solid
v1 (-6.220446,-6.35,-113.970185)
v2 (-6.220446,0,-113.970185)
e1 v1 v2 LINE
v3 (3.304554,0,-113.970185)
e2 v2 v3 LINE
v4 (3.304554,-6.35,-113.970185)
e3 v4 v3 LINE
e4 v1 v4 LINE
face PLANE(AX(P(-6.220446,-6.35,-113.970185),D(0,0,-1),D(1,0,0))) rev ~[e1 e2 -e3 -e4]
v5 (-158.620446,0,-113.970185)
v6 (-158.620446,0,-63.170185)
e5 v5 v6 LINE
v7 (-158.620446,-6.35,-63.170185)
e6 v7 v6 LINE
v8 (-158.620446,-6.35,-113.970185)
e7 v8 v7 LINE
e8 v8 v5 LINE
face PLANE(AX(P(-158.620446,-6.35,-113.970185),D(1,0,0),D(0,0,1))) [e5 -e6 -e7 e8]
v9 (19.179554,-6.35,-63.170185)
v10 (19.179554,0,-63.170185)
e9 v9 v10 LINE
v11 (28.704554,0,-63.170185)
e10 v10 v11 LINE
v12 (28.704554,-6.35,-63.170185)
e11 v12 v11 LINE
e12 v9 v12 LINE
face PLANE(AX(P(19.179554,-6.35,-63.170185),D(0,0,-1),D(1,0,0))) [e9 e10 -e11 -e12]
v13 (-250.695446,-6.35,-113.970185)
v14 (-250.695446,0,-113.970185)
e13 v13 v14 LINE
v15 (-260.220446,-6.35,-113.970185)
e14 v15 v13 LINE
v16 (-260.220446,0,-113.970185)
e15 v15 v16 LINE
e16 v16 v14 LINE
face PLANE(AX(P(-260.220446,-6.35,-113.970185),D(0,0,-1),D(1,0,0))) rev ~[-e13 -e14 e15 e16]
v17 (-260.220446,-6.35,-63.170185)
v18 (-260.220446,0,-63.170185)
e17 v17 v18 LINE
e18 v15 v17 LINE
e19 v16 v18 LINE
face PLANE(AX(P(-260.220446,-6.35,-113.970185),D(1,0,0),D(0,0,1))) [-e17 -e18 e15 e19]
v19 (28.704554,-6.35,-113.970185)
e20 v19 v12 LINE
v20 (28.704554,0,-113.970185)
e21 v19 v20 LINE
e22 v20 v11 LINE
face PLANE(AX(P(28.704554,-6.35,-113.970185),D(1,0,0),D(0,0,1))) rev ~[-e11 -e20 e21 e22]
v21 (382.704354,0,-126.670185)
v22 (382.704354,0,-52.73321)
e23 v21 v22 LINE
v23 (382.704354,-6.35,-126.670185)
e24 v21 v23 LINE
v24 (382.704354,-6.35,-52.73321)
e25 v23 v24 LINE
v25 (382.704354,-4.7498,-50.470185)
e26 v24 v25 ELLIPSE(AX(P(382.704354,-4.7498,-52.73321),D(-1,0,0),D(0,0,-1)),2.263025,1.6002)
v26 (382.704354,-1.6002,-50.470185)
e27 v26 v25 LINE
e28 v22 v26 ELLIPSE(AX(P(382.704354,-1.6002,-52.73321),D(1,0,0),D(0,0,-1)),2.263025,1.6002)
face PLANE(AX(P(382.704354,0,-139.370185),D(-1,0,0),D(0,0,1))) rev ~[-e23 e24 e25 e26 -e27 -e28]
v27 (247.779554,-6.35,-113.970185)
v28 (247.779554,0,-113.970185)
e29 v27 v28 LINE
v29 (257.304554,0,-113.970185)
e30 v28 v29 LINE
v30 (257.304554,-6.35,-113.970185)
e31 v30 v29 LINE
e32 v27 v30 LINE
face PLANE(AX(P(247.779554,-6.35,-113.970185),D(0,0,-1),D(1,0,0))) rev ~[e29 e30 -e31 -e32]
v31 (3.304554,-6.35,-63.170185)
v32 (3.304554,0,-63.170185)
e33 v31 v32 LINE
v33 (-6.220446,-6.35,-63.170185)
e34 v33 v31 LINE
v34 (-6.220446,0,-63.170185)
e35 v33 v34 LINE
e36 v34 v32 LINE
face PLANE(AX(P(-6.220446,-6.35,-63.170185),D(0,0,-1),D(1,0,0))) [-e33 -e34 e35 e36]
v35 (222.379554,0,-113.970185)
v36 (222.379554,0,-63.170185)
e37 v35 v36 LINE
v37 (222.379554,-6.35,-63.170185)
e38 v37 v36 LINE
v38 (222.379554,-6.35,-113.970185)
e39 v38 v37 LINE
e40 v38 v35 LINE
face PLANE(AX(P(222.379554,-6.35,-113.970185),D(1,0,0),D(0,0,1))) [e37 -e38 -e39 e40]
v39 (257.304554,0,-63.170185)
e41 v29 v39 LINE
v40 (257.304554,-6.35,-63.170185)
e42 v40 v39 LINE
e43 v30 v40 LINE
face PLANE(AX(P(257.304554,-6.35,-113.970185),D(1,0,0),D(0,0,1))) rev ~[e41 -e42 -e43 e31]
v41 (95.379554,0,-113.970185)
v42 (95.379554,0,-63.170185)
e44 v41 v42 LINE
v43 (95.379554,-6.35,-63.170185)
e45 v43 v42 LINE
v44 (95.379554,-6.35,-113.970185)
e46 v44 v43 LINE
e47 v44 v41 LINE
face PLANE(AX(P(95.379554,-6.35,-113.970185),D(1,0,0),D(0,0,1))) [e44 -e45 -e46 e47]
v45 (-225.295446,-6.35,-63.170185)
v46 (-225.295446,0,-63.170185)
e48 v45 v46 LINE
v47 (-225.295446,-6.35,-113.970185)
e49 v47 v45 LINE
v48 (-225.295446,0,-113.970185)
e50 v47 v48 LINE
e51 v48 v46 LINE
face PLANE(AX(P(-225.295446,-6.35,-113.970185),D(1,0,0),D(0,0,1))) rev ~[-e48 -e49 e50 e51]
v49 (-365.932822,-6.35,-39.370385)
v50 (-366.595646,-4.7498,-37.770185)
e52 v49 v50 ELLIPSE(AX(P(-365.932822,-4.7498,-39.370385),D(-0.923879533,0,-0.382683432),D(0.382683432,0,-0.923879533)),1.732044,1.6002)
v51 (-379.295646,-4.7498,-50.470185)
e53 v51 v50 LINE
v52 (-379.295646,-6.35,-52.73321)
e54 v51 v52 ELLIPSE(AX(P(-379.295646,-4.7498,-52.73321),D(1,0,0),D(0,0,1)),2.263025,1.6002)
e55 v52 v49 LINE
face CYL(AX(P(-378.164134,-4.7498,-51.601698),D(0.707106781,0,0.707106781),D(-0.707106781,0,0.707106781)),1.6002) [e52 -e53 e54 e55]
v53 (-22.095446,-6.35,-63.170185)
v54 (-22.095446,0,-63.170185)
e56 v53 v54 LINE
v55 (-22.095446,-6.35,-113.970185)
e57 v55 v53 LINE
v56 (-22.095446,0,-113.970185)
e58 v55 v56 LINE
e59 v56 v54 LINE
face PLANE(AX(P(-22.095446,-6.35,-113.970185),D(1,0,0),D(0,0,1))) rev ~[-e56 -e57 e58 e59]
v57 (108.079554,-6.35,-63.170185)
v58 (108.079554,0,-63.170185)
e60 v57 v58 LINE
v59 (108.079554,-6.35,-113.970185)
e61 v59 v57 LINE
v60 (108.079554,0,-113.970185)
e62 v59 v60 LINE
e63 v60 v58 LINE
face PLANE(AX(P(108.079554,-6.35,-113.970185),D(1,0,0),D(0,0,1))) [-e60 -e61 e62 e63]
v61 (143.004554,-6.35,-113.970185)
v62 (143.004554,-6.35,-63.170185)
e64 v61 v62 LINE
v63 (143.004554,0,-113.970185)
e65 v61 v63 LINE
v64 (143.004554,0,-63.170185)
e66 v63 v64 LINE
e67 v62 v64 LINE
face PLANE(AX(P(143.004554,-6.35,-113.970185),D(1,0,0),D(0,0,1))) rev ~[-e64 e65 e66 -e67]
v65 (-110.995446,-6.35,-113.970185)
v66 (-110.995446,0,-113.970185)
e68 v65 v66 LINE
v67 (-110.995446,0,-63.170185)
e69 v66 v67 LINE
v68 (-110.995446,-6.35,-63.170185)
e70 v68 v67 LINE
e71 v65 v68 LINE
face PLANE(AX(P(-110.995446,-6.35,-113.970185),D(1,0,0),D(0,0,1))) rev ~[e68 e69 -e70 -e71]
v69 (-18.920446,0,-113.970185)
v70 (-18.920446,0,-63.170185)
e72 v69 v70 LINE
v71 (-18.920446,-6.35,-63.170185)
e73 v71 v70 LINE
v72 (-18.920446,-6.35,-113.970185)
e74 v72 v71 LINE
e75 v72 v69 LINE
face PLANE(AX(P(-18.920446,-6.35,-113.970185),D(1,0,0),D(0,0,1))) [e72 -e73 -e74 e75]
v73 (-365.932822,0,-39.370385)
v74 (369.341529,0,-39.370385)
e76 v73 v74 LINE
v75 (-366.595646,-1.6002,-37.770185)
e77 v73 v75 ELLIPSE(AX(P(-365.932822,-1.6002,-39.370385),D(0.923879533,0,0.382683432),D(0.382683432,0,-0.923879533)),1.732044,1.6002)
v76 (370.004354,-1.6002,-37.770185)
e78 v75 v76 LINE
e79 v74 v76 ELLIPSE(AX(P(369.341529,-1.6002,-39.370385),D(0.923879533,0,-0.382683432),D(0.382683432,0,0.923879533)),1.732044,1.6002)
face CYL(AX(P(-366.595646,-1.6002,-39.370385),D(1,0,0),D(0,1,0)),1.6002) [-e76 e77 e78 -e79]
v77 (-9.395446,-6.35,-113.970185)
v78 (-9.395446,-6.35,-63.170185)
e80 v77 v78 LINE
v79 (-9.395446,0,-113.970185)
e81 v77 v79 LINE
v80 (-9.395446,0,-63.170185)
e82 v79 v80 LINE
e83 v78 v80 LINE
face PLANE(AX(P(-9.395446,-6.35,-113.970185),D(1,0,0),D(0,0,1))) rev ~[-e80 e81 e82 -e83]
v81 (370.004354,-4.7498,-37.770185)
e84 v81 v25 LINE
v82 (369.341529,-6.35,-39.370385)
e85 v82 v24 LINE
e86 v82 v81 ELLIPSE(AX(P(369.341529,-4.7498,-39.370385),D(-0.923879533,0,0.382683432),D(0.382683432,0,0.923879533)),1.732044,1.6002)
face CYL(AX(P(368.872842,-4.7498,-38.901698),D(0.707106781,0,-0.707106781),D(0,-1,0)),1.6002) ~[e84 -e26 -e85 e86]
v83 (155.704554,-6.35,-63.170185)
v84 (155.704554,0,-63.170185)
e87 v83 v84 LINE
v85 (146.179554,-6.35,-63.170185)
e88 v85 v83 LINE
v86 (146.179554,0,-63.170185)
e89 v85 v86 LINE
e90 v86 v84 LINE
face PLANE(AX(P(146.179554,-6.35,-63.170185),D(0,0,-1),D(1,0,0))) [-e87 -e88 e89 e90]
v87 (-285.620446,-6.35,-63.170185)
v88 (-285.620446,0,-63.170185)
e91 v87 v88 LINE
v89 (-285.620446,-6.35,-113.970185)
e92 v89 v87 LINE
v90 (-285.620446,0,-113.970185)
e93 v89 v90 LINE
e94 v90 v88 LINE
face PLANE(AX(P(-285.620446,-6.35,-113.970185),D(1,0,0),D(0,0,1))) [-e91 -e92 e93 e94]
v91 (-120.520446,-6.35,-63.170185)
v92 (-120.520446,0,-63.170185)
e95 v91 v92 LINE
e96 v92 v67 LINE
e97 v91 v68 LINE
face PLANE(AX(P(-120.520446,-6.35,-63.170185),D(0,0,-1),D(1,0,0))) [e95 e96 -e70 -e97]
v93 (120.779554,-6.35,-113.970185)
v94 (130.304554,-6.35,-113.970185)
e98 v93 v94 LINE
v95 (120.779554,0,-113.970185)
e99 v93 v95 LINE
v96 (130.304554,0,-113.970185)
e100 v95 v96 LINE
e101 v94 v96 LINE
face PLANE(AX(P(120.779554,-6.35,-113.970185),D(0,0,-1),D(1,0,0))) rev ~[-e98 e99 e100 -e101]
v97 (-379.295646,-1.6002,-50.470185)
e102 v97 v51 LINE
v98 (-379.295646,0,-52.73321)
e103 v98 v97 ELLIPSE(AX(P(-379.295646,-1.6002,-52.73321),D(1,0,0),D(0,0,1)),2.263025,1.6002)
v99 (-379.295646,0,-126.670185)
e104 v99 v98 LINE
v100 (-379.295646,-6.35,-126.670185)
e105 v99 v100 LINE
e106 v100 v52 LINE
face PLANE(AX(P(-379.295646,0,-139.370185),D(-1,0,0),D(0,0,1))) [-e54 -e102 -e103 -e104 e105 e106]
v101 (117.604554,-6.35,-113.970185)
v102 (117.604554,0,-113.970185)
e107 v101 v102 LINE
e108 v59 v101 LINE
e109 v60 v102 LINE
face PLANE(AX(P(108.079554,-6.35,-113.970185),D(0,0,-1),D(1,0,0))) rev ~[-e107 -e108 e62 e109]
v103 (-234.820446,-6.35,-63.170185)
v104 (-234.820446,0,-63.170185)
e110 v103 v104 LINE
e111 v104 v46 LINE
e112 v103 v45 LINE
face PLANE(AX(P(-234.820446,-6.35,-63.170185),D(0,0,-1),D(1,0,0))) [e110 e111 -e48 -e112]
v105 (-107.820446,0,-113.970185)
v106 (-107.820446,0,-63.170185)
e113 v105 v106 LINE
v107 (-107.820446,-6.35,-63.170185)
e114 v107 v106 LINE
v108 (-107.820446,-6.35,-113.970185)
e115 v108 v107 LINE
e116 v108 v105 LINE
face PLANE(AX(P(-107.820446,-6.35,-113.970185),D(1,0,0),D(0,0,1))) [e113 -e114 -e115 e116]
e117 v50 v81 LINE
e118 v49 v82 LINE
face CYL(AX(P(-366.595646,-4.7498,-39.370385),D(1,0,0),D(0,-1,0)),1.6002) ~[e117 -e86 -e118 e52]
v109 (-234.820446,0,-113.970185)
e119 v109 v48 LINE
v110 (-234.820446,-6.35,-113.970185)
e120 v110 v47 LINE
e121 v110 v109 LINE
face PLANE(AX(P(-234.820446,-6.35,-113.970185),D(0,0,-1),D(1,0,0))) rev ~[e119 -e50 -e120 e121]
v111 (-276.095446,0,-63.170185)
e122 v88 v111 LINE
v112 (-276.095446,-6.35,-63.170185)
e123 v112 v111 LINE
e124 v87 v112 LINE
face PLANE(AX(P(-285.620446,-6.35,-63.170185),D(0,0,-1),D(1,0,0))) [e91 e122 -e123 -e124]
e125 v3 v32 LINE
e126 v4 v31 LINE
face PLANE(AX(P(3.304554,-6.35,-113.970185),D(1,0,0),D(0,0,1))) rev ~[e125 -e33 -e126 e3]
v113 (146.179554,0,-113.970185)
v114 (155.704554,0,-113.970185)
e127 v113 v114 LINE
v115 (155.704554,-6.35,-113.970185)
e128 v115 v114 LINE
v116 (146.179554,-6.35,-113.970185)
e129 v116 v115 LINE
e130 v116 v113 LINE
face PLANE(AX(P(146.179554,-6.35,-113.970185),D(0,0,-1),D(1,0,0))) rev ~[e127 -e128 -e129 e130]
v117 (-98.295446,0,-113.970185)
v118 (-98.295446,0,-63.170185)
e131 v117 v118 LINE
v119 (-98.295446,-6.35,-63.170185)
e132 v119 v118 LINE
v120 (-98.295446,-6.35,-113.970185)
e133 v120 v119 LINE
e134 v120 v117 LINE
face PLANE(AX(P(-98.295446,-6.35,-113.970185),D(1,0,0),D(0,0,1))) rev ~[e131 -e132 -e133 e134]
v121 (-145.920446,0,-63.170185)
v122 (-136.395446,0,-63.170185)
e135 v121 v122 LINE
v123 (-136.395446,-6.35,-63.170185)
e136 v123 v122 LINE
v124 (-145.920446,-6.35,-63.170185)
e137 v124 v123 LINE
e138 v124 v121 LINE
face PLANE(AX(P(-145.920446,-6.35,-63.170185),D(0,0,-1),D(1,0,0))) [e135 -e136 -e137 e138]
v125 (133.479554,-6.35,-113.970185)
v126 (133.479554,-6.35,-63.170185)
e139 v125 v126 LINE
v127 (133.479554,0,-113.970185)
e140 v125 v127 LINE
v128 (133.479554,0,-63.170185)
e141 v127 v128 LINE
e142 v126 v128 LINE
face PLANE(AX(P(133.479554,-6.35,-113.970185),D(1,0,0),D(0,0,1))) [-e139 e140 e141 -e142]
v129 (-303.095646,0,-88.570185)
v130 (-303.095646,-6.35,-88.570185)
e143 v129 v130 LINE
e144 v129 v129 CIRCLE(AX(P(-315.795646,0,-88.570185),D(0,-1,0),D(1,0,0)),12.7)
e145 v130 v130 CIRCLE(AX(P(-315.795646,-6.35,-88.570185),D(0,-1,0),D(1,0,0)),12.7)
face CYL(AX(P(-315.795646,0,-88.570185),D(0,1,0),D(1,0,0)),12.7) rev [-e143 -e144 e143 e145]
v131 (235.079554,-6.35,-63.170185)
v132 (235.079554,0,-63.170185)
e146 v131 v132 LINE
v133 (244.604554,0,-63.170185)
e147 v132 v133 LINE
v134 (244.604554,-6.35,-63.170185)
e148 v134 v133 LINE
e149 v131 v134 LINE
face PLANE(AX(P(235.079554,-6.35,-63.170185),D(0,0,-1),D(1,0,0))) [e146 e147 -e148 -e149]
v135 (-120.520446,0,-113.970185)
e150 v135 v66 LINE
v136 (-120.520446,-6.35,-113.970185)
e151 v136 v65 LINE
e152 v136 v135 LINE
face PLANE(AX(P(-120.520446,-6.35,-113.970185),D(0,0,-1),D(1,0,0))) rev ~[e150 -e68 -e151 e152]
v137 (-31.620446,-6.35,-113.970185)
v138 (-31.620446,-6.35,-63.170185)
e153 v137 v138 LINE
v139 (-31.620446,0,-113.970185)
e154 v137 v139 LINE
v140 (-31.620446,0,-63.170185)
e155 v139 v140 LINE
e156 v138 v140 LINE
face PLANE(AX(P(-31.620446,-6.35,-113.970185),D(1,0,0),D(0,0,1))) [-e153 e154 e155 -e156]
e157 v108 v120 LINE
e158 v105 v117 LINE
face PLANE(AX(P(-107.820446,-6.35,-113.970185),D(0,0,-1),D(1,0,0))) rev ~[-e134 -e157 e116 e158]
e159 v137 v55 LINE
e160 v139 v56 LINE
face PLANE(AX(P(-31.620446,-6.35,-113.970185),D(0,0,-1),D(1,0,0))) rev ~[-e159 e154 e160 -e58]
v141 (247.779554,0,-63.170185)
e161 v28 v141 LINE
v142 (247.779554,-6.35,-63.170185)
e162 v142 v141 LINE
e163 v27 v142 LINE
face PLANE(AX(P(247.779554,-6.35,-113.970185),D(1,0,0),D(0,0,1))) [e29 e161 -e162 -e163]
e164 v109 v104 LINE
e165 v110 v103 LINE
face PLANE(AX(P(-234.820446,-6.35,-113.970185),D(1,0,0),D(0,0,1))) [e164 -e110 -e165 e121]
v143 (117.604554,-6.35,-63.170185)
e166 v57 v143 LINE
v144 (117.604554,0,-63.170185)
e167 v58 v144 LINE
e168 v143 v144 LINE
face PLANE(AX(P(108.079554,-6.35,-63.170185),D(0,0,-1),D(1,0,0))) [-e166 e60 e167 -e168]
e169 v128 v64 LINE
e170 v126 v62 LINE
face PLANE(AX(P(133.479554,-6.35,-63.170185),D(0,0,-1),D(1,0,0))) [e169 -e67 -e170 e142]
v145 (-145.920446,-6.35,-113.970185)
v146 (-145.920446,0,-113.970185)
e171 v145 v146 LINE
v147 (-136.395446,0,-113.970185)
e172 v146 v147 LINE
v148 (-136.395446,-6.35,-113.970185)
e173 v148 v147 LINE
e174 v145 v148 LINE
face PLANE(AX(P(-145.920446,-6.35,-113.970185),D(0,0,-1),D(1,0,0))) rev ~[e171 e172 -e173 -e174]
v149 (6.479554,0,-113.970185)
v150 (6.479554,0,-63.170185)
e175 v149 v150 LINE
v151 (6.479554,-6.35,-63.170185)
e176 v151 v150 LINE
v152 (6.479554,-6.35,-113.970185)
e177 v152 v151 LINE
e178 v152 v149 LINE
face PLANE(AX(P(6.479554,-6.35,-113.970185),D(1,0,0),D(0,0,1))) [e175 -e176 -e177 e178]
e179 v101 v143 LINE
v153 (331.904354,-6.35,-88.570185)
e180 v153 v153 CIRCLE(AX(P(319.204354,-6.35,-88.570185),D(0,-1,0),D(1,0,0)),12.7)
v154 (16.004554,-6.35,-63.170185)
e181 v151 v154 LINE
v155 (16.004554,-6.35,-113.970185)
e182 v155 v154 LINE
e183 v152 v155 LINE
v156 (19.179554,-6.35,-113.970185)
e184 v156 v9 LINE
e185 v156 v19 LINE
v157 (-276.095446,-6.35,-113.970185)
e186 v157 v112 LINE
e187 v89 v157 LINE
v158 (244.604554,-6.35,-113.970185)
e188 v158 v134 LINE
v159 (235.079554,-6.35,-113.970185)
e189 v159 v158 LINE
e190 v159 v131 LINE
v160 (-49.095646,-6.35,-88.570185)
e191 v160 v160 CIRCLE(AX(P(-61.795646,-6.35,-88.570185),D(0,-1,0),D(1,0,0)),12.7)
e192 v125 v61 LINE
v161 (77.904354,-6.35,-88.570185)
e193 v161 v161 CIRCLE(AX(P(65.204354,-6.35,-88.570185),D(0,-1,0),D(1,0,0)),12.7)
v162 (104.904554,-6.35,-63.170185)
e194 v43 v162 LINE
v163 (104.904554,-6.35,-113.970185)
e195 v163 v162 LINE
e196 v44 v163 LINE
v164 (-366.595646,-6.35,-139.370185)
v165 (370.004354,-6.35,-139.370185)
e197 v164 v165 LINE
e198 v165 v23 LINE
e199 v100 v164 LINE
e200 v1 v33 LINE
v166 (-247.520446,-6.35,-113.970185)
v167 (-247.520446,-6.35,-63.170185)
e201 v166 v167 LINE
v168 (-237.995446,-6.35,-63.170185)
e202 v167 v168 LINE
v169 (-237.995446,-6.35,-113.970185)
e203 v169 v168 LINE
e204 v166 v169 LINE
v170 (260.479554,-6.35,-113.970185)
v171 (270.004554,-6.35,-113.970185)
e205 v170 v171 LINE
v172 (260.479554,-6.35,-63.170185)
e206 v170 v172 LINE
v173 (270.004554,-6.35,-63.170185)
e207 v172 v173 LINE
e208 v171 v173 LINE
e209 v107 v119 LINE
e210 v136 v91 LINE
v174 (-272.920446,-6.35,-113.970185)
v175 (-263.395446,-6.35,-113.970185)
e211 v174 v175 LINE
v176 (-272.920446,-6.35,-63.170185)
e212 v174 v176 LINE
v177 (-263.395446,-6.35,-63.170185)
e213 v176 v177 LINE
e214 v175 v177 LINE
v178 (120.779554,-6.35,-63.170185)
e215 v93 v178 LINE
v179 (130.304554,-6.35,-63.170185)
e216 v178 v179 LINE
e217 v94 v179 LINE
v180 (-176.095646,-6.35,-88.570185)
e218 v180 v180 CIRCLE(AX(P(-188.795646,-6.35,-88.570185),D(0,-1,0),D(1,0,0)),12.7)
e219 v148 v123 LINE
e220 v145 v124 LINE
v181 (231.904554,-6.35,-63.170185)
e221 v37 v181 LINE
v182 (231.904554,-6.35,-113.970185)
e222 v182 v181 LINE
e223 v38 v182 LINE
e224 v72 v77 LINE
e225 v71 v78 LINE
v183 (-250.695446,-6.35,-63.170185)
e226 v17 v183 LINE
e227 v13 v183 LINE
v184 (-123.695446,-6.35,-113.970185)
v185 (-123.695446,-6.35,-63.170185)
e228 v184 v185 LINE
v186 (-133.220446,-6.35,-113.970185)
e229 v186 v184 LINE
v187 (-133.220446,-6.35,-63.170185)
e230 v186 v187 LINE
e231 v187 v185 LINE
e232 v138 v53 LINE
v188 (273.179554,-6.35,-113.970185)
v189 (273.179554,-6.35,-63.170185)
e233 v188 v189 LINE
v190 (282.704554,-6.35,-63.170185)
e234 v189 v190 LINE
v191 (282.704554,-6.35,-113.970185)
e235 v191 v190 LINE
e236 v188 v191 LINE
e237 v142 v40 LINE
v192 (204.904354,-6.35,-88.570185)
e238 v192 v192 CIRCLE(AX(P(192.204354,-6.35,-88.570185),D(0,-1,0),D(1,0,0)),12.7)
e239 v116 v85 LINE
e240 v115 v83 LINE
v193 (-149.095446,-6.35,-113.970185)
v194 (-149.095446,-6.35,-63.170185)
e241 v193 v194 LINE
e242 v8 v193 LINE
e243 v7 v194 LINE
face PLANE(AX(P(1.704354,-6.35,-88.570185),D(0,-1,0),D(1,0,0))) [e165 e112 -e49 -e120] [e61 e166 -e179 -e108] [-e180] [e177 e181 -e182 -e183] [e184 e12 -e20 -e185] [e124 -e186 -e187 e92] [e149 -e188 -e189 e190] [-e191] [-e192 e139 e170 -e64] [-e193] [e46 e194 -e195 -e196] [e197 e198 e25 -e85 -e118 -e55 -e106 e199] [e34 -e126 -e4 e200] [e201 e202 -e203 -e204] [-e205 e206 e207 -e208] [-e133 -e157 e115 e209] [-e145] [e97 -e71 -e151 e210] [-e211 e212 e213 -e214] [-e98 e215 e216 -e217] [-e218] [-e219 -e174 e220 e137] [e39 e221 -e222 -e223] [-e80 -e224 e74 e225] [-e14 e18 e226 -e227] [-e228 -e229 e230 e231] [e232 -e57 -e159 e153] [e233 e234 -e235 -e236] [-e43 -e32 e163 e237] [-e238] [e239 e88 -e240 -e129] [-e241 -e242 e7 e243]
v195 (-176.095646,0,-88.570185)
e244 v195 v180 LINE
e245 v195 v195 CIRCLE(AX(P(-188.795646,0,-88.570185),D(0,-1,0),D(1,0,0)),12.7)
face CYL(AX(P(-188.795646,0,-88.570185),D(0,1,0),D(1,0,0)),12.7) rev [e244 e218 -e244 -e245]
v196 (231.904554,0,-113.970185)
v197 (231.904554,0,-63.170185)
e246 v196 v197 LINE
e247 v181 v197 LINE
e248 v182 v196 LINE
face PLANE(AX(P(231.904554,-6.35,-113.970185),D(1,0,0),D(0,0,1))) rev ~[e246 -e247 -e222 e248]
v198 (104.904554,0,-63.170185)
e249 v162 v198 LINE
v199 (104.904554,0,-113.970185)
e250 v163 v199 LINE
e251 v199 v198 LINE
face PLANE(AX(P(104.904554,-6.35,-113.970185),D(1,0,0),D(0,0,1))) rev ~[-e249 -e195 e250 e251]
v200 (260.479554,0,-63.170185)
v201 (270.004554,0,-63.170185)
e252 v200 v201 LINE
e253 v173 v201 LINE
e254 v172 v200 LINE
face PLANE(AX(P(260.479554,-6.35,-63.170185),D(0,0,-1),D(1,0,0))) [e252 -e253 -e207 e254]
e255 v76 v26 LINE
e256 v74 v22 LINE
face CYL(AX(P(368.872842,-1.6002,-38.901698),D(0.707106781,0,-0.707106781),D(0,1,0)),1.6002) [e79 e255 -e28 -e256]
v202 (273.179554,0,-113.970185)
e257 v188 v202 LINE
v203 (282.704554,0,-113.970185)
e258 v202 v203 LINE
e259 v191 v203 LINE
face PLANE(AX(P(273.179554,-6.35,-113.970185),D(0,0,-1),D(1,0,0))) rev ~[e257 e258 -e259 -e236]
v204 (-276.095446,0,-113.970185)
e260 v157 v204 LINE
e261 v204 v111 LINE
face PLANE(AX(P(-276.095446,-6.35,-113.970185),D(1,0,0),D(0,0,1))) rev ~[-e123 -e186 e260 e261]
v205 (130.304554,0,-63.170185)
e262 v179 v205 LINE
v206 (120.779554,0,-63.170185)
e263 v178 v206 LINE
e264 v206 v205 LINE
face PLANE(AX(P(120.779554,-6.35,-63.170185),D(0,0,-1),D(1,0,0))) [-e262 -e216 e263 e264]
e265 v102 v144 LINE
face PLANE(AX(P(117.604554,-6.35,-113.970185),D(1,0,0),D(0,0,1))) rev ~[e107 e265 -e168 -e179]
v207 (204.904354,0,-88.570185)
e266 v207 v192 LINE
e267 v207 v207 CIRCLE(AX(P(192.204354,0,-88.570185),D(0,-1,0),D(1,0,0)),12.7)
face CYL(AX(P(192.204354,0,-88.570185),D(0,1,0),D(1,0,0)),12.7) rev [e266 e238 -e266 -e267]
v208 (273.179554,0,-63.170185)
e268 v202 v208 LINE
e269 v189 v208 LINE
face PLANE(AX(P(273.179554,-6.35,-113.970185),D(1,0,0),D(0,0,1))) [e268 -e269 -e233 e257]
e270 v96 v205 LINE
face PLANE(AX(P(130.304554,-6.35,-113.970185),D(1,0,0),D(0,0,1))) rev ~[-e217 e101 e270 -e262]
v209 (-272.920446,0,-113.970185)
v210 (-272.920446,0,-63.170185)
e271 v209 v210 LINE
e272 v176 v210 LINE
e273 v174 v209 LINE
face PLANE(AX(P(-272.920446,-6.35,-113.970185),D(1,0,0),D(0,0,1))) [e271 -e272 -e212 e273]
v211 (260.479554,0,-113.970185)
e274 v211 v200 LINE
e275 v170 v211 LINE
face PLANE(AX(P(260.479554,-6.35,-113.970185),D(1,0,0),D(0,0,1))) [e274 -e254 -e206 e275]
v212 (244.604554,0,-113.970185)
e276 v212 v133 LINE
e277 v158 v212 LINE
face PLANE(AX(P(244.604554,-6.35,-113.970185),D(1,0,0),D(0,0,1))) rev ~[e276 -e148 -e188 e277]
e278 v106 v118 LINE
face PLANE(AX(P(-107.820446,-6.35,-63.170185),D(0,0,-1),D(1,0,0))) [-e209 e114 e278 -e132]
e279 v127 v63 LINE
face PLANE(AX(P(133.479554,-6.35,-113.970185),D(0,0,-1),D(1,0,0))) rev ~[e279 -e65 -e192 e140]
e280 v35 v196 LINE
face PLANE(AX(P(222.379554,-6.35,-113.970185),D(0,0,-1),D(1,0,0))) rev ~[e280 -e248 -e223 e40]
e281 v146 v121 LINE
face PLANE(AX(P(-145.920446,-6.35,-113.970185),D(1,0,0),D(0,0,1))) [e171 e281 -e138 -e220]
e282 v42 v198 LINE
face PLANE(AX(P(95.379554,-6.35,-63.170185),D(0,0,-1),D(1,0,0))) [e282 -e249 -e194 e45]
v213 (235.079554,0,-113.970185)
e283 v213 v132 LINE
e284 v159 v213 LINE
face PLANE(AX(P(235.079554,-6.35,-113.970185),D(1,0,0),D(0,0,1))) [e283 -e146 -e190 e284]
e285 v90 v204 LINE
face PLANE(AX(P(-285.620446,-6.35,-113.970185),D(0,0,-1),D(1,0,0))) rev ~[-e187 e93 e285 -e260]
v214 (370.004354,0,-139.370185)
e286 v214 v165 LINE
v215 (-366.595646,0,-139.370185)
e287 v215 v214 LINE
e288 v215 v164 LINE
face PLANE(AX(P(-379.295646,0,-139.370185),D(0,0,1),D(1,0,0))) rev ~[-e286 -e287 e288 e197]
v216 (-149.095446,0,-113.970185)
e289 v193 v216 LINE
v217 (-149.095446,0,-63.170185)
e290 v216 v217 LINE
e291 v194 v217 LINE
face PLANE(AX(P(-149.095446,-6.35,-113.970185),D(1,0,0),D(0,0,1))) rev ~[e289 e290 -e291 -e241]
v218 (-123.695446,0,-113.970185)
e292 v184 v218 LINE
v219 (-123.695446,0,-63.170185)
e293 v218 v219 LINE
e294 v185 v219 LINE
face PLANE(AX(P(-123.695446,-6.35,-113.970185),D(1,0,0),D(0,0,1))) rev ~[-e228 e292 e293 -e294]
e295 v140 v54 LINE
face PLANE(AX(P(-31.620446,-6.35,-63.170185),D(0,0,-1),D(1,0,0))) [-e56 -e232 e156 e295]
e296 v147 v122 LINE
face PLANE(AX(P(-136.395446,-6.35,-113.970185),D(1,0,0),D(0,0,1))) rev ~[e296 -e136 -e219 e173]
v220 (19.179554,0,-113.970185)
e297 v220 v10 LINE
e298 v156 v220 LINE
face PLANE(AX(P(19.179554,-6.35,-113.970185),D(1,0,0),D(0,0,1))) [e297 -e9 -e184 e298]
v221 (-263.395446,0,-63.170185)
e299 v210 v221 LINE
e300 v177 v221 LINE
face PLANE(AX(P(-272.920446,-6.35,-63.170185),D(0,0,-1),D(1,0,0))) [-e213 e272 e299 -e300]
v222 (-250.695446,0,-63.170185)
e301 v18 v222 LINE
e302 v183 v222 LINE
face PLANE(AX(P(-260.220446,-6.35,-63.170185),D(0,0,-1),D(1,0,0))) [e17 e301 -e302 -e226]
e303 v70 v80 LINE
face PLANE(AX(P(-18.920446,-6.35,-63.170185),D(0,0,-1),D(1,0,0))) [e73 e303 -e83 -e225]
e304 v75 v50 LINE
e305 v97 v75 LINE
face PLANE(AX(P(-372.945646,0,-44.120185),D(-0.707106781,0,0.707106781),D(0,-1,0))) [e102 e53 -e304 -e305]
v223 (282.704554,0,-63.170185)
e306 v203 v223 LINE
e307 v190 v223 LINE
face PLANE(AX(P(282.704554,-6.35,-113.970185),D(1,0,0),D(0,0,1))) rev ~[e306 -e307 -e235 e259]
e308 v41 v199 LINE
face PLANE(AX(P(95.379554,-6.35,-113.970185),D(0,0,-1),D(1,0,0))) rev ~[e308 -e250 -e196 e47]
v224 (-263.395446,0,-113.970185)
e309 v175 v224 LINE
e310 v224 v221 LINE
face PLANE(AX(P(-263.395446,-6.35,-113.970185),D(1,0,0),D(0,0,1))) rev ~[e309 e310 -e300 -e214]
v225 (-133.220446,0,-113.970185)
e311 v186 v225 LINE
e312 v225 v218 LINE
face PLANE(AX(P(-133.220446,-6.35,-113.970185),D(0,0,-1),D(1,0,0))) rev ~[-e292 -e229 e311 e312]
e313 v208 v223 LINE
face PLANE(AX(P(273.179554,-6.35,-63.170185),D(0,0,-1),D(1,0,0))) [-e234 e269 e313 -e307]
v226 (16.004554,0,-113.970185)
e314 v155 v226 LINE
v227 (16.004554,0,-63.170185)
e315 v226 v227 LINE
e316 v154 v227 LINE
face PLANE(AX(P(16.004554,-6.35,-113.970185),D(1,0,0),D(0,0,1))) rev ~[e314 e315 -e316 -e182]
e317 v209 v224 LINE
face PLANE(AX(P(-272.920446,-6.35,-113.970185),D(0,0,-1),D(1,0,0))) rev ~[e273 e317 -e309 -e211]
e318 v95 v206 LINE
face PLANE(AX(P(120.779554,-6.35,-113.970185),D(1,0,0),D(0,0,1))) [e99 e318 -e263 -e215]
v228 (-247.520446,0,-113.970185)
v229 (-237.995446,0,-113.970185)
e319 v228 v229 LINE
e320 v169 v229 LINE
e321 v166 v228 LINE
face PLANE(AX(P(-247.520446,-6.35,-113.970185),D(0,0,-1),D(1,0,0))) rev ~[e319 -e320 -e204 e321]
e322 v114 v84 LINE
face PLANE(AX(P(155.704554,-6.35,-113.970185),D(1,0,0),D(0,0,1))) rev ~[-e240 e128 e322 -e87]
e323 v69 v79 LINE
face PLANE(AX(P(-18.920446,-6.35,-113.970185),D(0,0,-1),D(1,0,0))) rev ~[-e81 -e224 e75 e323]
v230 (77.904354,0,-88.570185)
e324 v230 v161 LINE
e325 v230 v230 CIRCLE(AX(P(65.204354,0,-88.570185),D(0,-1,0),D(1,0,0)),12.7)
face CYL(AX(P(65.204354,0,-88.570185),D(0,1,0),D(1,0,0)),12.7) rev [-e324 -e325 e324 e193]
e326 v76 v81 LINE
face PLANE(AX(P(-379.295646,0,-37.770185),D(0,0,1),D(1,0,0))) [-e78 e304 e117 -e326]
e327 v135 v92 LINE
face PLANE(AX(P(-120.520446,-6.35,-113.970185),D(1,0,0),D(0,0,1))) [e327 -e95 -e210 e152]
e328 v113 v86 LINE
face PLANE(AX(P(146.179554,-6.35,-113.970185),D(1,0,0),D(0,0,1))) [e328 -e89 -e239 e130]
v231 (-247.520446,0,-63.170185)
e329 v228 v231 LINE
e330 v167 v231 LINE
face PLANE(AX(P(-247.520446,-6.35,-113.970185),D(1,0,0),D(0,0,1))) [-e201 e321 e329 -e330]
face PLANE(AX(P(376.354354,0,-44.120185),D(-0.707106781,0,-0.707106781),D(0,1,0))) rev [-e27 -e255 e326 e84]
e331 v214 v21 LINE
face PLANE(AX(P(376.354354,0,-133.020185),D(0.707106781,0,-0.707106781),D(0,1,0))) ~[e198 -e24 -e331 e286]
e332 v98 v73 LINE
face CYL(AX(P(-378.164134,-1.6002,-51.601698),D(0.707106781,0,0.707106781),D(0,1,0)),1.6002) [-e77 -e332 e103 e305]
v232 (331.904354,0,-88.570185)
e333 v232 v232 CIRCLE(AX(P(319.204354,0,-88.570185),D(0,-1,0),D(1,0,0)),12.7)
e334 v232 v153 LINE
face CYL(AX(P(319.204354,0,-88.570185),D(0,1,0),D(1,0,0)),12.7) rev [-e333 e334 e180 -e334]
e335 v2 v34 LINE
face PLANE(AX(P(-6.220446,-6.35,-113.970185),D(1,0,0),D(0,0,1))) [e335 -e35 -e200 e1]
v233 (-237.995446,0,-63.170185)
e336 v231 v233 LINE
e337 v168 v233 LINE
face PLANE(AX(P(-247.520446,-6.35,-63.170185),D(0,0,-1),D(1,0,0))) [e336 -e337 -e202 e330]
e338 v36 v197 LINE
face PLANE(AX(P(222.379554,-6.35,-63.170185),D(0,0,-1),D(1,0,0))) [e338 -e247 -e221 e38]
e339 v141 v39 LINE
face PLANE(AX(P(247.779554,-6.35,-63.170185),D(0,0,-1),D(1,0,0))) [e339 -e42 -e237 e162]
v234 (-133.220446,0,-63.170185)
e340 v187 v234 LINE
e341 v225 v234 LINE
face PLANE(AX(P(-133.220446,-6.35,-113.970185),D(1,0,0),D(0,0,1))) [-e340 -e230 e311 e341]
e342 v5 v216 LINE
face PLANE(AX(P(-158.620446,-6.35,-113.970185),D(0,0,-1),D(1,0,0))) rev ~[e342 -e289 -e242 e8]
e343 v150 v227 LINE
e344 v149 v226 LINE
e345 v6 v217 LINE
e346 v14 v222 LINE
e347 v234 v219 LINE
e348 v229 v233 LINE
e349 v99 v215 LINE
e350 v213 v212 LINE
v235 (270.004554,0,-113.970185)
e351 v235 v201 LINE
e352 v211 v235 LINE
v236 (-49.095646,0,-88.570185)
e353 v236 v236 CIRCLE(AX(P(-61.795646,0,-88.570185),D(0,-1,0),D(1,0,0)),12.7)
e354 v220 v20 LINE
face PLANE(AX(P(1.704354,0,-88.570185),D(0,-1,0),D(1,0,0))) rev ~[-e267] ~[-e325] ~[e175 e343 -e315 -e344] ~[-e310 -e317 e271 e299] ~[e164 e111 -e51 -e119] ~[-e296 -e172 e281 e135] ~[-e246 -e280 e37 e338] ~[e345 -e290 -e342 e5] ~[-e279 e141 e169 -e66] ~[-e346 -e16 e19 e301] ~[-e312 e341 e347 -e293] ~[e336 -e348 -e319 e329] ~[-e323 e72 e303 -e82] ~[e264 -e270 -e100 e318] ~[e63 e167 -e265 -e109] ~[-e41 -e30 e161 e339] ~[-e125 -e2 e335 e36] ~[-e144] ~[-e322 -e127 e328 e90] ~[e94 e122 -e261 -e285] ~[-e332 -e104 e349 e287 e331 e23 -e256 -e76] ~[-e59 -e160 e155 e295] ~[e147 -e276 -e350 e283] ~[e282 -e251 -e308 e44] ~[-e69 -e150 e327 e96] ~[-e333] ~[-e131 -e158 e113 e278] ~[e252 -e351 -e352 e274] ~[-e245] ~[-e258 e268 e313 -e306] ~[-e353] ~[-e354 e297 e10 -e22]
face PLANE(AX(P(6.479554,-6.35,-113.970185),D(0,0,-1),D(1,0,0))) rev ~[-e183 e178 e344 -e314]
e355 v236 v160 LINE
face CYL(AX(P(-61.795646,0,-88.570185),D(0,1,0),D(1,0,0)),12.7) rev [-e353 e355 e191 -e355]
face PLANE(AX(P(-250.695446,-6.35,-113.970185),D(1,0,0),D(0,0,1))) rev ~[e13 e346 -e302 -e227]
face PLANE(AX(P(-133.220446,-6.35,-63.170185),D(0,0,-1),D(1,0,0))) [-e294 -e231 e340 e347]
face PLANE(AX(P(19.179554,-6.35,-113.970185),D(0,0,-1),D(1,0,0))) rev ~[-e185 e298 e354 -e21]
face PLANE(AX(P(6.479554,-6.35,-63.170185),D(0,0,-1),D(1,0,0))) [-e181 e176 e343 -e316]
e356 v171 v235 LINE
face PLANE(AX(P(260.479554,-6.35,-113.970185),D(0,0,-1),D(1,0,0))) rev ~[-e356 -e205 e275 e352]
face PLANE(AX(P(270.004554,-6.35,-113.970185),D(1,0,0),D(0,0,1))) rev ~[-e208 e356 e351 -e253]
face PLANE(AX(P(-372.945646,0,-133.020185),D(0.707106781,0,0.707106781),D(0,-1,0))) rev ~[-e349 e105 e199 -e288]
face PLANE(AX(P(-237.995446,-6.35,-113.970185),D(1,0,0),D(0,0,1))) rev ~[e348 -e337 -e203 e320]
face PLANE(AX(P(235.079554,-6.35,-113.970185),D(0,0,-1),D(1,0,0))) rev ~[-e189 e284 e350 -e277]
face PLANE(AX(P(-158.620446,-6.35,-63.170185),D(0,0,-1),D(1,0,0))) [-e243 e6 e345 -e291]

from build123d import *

# Parameters (mm, degrees)
F0_W     = 762
F0_H     = 101.6
F0_R     = 12.7
F1_DEPTH = 6.35
F2_W     = 9.525
F2_H     = 50.8
F3_DEPTH = 6.351
F4_SIZE  = 12.7
F5_R     = 1.6002


with BuildPart() as f1:
    # F0 (on Front) → F1 (new body)
    with BuildSketch(Plane.XZ):
        with Locations((1.7043538392, -88.5701854873)):
            Rectangle(F0_W, F0_H)
        with Locations((-315.7956461608, -88.5701854873)):
            Circle(F0_R, mode=Mode.SUBTRACT)
        with Locations((-188.7956461608, -88.5701854873)):
            Circle(F0_R, mode=Mode.SUBTRACT)
        with Locations((-61.7956461608, -88.5701854873)):
            Circle(F0_R, mode=Mode.SUBTRACT)
        with Locations((65.2043538392, -88.5701854873)):
            Circle(F0_R, mode=Mode.SUBTRACT)
        with Locations((192.2043538392, -88.5701854873)):
            Circle(F0_R, mode=Mode.SUBTRACT)
        with Locations((319.2043538392, -88.5701854873)):
            Circle(F0_R, mode=Mode.SUBTRACT)
    extrude(amount=F1_DEPTH)

    # F2 (on face) → F3 (cut, through all)
    with BuildSketch(Plane.XZ.offset(6.35)):
        with Locations((-280.8579461608, -88.5701854873)):
            Rectangle(F2_W, F2_H)
        with Locations((-268.1579461608, -88.5701854873)):
            Rectangle(F2_W, F2_H)
        with Locations((-255.4579461608, -88.5701854873)):
            Rectangle(F2_W, F2_H)
        with Locations((-242.7579461608, -88.5701854873)):
            Rectangle(F2_W, F2_H)
        with Locations((-230.0579461608, -88.5701854873)):
            Rectangle(F2_W, F2_H)
        with Locations((-26.8579461608, -88.5701854873)):
            Rectangle(F2_W, F2_H)
        with Locations((-14.1579461608, -88.5701854873)):
            Rectangle(F2_W, F2_H)
        with Locations((-1.4579461608, -88.5701854873)):
            Rectangle(F2_W, F2_H)
        with Locations((11.2420538392, -88.5701854873)):
            Rectangle(F2_W, F2_H)
        with Locations((23.9420538392, -88.5701854873)):
            Rectangle(F2_W, F2_H)
        with Locations((100.1420538392, -88.5701854873)):
            Rectangle(F2_W, F2_H)
        with Locations((112.8420538392, -88.5701854873)):
            Rectangle(F2_W, F2_H)
        with Locations((125.5420538392, -88.5701854873)):
            Rectangle(F2_W, F2_H)
        with Locations((138.2420538392, -88.5701854873)):
            Rectangle(F2_W, F2_H)
        with Locations((150.9420538392, -88.5701854873)):
            Rectangle(F2_W, F2_H)
        with Locations((227.1420538392, -88.5701854873)):
            Rectangle(F2_W, F2_H)
        with Locations((239.8420538392, -88.5701854873)):
            Rectangle(F2_W, F2_H)
        with Locations((252.5420538392, -88.5701854873)):
            Rectangle(F2_W, F2_H)
        with Locations((265.2420538392, -88.5701854873)):
            Rectangle(F2_W, F2_H)
        with Locations((277.9420538392, -88.5701854873)):
            Rectangle(F2_W, F2_H)
        with Locations((-153.8579461608, -88.5701854873)):
            Rectangle(F2_W, F2_H)
        with Locations((-141.1579461608, -88.5701854873)):
            Rectangle(F2_W, F2_H)
        with Locations((-128.4579461608, -88.5701854873)):
            Rectangle(F2_W, F2_H)
        with Locations((-115.7579461608, -88.5701854873)):
            Rectangle(F2_W, F2_H)
        with Locations((-103.0579461608, -88.5701854873)):
            Rectangle(F2_W, F2_H)
    extrude(amount=-F3_DEPTH, mode=Mode.SUBTRACT)

    # F4
    f4_edges = [f1.edges().sort_by_distance(p)[0] for p in [
        (-379.295646, -3.175, -37.770185),
        (-379.295646, -3.175, -139.370185),
        (382.704354, -3.175, -37.770185),
        (382.704354, -3.175, -139.370185),
    ]]
    chamfer(f4_edges, length=F4_SIZE)

    # F5
    f5_edges = [f1.edges().sort_by_distance(p)[0] for p in [
        (1.704354, -6.35, -37.770185),
        (1.704354, 0, -37.770185),
        (-372.945646, -6.35, -44.120185),
        (-372.945646, 0, -44.120185),
        (376.354354, 0, -44.120185),
        (376.354354, -6.35, -44.120185),
    ]]
    fillet(f5_edges, radius=F5_R)


solid = f1.part
